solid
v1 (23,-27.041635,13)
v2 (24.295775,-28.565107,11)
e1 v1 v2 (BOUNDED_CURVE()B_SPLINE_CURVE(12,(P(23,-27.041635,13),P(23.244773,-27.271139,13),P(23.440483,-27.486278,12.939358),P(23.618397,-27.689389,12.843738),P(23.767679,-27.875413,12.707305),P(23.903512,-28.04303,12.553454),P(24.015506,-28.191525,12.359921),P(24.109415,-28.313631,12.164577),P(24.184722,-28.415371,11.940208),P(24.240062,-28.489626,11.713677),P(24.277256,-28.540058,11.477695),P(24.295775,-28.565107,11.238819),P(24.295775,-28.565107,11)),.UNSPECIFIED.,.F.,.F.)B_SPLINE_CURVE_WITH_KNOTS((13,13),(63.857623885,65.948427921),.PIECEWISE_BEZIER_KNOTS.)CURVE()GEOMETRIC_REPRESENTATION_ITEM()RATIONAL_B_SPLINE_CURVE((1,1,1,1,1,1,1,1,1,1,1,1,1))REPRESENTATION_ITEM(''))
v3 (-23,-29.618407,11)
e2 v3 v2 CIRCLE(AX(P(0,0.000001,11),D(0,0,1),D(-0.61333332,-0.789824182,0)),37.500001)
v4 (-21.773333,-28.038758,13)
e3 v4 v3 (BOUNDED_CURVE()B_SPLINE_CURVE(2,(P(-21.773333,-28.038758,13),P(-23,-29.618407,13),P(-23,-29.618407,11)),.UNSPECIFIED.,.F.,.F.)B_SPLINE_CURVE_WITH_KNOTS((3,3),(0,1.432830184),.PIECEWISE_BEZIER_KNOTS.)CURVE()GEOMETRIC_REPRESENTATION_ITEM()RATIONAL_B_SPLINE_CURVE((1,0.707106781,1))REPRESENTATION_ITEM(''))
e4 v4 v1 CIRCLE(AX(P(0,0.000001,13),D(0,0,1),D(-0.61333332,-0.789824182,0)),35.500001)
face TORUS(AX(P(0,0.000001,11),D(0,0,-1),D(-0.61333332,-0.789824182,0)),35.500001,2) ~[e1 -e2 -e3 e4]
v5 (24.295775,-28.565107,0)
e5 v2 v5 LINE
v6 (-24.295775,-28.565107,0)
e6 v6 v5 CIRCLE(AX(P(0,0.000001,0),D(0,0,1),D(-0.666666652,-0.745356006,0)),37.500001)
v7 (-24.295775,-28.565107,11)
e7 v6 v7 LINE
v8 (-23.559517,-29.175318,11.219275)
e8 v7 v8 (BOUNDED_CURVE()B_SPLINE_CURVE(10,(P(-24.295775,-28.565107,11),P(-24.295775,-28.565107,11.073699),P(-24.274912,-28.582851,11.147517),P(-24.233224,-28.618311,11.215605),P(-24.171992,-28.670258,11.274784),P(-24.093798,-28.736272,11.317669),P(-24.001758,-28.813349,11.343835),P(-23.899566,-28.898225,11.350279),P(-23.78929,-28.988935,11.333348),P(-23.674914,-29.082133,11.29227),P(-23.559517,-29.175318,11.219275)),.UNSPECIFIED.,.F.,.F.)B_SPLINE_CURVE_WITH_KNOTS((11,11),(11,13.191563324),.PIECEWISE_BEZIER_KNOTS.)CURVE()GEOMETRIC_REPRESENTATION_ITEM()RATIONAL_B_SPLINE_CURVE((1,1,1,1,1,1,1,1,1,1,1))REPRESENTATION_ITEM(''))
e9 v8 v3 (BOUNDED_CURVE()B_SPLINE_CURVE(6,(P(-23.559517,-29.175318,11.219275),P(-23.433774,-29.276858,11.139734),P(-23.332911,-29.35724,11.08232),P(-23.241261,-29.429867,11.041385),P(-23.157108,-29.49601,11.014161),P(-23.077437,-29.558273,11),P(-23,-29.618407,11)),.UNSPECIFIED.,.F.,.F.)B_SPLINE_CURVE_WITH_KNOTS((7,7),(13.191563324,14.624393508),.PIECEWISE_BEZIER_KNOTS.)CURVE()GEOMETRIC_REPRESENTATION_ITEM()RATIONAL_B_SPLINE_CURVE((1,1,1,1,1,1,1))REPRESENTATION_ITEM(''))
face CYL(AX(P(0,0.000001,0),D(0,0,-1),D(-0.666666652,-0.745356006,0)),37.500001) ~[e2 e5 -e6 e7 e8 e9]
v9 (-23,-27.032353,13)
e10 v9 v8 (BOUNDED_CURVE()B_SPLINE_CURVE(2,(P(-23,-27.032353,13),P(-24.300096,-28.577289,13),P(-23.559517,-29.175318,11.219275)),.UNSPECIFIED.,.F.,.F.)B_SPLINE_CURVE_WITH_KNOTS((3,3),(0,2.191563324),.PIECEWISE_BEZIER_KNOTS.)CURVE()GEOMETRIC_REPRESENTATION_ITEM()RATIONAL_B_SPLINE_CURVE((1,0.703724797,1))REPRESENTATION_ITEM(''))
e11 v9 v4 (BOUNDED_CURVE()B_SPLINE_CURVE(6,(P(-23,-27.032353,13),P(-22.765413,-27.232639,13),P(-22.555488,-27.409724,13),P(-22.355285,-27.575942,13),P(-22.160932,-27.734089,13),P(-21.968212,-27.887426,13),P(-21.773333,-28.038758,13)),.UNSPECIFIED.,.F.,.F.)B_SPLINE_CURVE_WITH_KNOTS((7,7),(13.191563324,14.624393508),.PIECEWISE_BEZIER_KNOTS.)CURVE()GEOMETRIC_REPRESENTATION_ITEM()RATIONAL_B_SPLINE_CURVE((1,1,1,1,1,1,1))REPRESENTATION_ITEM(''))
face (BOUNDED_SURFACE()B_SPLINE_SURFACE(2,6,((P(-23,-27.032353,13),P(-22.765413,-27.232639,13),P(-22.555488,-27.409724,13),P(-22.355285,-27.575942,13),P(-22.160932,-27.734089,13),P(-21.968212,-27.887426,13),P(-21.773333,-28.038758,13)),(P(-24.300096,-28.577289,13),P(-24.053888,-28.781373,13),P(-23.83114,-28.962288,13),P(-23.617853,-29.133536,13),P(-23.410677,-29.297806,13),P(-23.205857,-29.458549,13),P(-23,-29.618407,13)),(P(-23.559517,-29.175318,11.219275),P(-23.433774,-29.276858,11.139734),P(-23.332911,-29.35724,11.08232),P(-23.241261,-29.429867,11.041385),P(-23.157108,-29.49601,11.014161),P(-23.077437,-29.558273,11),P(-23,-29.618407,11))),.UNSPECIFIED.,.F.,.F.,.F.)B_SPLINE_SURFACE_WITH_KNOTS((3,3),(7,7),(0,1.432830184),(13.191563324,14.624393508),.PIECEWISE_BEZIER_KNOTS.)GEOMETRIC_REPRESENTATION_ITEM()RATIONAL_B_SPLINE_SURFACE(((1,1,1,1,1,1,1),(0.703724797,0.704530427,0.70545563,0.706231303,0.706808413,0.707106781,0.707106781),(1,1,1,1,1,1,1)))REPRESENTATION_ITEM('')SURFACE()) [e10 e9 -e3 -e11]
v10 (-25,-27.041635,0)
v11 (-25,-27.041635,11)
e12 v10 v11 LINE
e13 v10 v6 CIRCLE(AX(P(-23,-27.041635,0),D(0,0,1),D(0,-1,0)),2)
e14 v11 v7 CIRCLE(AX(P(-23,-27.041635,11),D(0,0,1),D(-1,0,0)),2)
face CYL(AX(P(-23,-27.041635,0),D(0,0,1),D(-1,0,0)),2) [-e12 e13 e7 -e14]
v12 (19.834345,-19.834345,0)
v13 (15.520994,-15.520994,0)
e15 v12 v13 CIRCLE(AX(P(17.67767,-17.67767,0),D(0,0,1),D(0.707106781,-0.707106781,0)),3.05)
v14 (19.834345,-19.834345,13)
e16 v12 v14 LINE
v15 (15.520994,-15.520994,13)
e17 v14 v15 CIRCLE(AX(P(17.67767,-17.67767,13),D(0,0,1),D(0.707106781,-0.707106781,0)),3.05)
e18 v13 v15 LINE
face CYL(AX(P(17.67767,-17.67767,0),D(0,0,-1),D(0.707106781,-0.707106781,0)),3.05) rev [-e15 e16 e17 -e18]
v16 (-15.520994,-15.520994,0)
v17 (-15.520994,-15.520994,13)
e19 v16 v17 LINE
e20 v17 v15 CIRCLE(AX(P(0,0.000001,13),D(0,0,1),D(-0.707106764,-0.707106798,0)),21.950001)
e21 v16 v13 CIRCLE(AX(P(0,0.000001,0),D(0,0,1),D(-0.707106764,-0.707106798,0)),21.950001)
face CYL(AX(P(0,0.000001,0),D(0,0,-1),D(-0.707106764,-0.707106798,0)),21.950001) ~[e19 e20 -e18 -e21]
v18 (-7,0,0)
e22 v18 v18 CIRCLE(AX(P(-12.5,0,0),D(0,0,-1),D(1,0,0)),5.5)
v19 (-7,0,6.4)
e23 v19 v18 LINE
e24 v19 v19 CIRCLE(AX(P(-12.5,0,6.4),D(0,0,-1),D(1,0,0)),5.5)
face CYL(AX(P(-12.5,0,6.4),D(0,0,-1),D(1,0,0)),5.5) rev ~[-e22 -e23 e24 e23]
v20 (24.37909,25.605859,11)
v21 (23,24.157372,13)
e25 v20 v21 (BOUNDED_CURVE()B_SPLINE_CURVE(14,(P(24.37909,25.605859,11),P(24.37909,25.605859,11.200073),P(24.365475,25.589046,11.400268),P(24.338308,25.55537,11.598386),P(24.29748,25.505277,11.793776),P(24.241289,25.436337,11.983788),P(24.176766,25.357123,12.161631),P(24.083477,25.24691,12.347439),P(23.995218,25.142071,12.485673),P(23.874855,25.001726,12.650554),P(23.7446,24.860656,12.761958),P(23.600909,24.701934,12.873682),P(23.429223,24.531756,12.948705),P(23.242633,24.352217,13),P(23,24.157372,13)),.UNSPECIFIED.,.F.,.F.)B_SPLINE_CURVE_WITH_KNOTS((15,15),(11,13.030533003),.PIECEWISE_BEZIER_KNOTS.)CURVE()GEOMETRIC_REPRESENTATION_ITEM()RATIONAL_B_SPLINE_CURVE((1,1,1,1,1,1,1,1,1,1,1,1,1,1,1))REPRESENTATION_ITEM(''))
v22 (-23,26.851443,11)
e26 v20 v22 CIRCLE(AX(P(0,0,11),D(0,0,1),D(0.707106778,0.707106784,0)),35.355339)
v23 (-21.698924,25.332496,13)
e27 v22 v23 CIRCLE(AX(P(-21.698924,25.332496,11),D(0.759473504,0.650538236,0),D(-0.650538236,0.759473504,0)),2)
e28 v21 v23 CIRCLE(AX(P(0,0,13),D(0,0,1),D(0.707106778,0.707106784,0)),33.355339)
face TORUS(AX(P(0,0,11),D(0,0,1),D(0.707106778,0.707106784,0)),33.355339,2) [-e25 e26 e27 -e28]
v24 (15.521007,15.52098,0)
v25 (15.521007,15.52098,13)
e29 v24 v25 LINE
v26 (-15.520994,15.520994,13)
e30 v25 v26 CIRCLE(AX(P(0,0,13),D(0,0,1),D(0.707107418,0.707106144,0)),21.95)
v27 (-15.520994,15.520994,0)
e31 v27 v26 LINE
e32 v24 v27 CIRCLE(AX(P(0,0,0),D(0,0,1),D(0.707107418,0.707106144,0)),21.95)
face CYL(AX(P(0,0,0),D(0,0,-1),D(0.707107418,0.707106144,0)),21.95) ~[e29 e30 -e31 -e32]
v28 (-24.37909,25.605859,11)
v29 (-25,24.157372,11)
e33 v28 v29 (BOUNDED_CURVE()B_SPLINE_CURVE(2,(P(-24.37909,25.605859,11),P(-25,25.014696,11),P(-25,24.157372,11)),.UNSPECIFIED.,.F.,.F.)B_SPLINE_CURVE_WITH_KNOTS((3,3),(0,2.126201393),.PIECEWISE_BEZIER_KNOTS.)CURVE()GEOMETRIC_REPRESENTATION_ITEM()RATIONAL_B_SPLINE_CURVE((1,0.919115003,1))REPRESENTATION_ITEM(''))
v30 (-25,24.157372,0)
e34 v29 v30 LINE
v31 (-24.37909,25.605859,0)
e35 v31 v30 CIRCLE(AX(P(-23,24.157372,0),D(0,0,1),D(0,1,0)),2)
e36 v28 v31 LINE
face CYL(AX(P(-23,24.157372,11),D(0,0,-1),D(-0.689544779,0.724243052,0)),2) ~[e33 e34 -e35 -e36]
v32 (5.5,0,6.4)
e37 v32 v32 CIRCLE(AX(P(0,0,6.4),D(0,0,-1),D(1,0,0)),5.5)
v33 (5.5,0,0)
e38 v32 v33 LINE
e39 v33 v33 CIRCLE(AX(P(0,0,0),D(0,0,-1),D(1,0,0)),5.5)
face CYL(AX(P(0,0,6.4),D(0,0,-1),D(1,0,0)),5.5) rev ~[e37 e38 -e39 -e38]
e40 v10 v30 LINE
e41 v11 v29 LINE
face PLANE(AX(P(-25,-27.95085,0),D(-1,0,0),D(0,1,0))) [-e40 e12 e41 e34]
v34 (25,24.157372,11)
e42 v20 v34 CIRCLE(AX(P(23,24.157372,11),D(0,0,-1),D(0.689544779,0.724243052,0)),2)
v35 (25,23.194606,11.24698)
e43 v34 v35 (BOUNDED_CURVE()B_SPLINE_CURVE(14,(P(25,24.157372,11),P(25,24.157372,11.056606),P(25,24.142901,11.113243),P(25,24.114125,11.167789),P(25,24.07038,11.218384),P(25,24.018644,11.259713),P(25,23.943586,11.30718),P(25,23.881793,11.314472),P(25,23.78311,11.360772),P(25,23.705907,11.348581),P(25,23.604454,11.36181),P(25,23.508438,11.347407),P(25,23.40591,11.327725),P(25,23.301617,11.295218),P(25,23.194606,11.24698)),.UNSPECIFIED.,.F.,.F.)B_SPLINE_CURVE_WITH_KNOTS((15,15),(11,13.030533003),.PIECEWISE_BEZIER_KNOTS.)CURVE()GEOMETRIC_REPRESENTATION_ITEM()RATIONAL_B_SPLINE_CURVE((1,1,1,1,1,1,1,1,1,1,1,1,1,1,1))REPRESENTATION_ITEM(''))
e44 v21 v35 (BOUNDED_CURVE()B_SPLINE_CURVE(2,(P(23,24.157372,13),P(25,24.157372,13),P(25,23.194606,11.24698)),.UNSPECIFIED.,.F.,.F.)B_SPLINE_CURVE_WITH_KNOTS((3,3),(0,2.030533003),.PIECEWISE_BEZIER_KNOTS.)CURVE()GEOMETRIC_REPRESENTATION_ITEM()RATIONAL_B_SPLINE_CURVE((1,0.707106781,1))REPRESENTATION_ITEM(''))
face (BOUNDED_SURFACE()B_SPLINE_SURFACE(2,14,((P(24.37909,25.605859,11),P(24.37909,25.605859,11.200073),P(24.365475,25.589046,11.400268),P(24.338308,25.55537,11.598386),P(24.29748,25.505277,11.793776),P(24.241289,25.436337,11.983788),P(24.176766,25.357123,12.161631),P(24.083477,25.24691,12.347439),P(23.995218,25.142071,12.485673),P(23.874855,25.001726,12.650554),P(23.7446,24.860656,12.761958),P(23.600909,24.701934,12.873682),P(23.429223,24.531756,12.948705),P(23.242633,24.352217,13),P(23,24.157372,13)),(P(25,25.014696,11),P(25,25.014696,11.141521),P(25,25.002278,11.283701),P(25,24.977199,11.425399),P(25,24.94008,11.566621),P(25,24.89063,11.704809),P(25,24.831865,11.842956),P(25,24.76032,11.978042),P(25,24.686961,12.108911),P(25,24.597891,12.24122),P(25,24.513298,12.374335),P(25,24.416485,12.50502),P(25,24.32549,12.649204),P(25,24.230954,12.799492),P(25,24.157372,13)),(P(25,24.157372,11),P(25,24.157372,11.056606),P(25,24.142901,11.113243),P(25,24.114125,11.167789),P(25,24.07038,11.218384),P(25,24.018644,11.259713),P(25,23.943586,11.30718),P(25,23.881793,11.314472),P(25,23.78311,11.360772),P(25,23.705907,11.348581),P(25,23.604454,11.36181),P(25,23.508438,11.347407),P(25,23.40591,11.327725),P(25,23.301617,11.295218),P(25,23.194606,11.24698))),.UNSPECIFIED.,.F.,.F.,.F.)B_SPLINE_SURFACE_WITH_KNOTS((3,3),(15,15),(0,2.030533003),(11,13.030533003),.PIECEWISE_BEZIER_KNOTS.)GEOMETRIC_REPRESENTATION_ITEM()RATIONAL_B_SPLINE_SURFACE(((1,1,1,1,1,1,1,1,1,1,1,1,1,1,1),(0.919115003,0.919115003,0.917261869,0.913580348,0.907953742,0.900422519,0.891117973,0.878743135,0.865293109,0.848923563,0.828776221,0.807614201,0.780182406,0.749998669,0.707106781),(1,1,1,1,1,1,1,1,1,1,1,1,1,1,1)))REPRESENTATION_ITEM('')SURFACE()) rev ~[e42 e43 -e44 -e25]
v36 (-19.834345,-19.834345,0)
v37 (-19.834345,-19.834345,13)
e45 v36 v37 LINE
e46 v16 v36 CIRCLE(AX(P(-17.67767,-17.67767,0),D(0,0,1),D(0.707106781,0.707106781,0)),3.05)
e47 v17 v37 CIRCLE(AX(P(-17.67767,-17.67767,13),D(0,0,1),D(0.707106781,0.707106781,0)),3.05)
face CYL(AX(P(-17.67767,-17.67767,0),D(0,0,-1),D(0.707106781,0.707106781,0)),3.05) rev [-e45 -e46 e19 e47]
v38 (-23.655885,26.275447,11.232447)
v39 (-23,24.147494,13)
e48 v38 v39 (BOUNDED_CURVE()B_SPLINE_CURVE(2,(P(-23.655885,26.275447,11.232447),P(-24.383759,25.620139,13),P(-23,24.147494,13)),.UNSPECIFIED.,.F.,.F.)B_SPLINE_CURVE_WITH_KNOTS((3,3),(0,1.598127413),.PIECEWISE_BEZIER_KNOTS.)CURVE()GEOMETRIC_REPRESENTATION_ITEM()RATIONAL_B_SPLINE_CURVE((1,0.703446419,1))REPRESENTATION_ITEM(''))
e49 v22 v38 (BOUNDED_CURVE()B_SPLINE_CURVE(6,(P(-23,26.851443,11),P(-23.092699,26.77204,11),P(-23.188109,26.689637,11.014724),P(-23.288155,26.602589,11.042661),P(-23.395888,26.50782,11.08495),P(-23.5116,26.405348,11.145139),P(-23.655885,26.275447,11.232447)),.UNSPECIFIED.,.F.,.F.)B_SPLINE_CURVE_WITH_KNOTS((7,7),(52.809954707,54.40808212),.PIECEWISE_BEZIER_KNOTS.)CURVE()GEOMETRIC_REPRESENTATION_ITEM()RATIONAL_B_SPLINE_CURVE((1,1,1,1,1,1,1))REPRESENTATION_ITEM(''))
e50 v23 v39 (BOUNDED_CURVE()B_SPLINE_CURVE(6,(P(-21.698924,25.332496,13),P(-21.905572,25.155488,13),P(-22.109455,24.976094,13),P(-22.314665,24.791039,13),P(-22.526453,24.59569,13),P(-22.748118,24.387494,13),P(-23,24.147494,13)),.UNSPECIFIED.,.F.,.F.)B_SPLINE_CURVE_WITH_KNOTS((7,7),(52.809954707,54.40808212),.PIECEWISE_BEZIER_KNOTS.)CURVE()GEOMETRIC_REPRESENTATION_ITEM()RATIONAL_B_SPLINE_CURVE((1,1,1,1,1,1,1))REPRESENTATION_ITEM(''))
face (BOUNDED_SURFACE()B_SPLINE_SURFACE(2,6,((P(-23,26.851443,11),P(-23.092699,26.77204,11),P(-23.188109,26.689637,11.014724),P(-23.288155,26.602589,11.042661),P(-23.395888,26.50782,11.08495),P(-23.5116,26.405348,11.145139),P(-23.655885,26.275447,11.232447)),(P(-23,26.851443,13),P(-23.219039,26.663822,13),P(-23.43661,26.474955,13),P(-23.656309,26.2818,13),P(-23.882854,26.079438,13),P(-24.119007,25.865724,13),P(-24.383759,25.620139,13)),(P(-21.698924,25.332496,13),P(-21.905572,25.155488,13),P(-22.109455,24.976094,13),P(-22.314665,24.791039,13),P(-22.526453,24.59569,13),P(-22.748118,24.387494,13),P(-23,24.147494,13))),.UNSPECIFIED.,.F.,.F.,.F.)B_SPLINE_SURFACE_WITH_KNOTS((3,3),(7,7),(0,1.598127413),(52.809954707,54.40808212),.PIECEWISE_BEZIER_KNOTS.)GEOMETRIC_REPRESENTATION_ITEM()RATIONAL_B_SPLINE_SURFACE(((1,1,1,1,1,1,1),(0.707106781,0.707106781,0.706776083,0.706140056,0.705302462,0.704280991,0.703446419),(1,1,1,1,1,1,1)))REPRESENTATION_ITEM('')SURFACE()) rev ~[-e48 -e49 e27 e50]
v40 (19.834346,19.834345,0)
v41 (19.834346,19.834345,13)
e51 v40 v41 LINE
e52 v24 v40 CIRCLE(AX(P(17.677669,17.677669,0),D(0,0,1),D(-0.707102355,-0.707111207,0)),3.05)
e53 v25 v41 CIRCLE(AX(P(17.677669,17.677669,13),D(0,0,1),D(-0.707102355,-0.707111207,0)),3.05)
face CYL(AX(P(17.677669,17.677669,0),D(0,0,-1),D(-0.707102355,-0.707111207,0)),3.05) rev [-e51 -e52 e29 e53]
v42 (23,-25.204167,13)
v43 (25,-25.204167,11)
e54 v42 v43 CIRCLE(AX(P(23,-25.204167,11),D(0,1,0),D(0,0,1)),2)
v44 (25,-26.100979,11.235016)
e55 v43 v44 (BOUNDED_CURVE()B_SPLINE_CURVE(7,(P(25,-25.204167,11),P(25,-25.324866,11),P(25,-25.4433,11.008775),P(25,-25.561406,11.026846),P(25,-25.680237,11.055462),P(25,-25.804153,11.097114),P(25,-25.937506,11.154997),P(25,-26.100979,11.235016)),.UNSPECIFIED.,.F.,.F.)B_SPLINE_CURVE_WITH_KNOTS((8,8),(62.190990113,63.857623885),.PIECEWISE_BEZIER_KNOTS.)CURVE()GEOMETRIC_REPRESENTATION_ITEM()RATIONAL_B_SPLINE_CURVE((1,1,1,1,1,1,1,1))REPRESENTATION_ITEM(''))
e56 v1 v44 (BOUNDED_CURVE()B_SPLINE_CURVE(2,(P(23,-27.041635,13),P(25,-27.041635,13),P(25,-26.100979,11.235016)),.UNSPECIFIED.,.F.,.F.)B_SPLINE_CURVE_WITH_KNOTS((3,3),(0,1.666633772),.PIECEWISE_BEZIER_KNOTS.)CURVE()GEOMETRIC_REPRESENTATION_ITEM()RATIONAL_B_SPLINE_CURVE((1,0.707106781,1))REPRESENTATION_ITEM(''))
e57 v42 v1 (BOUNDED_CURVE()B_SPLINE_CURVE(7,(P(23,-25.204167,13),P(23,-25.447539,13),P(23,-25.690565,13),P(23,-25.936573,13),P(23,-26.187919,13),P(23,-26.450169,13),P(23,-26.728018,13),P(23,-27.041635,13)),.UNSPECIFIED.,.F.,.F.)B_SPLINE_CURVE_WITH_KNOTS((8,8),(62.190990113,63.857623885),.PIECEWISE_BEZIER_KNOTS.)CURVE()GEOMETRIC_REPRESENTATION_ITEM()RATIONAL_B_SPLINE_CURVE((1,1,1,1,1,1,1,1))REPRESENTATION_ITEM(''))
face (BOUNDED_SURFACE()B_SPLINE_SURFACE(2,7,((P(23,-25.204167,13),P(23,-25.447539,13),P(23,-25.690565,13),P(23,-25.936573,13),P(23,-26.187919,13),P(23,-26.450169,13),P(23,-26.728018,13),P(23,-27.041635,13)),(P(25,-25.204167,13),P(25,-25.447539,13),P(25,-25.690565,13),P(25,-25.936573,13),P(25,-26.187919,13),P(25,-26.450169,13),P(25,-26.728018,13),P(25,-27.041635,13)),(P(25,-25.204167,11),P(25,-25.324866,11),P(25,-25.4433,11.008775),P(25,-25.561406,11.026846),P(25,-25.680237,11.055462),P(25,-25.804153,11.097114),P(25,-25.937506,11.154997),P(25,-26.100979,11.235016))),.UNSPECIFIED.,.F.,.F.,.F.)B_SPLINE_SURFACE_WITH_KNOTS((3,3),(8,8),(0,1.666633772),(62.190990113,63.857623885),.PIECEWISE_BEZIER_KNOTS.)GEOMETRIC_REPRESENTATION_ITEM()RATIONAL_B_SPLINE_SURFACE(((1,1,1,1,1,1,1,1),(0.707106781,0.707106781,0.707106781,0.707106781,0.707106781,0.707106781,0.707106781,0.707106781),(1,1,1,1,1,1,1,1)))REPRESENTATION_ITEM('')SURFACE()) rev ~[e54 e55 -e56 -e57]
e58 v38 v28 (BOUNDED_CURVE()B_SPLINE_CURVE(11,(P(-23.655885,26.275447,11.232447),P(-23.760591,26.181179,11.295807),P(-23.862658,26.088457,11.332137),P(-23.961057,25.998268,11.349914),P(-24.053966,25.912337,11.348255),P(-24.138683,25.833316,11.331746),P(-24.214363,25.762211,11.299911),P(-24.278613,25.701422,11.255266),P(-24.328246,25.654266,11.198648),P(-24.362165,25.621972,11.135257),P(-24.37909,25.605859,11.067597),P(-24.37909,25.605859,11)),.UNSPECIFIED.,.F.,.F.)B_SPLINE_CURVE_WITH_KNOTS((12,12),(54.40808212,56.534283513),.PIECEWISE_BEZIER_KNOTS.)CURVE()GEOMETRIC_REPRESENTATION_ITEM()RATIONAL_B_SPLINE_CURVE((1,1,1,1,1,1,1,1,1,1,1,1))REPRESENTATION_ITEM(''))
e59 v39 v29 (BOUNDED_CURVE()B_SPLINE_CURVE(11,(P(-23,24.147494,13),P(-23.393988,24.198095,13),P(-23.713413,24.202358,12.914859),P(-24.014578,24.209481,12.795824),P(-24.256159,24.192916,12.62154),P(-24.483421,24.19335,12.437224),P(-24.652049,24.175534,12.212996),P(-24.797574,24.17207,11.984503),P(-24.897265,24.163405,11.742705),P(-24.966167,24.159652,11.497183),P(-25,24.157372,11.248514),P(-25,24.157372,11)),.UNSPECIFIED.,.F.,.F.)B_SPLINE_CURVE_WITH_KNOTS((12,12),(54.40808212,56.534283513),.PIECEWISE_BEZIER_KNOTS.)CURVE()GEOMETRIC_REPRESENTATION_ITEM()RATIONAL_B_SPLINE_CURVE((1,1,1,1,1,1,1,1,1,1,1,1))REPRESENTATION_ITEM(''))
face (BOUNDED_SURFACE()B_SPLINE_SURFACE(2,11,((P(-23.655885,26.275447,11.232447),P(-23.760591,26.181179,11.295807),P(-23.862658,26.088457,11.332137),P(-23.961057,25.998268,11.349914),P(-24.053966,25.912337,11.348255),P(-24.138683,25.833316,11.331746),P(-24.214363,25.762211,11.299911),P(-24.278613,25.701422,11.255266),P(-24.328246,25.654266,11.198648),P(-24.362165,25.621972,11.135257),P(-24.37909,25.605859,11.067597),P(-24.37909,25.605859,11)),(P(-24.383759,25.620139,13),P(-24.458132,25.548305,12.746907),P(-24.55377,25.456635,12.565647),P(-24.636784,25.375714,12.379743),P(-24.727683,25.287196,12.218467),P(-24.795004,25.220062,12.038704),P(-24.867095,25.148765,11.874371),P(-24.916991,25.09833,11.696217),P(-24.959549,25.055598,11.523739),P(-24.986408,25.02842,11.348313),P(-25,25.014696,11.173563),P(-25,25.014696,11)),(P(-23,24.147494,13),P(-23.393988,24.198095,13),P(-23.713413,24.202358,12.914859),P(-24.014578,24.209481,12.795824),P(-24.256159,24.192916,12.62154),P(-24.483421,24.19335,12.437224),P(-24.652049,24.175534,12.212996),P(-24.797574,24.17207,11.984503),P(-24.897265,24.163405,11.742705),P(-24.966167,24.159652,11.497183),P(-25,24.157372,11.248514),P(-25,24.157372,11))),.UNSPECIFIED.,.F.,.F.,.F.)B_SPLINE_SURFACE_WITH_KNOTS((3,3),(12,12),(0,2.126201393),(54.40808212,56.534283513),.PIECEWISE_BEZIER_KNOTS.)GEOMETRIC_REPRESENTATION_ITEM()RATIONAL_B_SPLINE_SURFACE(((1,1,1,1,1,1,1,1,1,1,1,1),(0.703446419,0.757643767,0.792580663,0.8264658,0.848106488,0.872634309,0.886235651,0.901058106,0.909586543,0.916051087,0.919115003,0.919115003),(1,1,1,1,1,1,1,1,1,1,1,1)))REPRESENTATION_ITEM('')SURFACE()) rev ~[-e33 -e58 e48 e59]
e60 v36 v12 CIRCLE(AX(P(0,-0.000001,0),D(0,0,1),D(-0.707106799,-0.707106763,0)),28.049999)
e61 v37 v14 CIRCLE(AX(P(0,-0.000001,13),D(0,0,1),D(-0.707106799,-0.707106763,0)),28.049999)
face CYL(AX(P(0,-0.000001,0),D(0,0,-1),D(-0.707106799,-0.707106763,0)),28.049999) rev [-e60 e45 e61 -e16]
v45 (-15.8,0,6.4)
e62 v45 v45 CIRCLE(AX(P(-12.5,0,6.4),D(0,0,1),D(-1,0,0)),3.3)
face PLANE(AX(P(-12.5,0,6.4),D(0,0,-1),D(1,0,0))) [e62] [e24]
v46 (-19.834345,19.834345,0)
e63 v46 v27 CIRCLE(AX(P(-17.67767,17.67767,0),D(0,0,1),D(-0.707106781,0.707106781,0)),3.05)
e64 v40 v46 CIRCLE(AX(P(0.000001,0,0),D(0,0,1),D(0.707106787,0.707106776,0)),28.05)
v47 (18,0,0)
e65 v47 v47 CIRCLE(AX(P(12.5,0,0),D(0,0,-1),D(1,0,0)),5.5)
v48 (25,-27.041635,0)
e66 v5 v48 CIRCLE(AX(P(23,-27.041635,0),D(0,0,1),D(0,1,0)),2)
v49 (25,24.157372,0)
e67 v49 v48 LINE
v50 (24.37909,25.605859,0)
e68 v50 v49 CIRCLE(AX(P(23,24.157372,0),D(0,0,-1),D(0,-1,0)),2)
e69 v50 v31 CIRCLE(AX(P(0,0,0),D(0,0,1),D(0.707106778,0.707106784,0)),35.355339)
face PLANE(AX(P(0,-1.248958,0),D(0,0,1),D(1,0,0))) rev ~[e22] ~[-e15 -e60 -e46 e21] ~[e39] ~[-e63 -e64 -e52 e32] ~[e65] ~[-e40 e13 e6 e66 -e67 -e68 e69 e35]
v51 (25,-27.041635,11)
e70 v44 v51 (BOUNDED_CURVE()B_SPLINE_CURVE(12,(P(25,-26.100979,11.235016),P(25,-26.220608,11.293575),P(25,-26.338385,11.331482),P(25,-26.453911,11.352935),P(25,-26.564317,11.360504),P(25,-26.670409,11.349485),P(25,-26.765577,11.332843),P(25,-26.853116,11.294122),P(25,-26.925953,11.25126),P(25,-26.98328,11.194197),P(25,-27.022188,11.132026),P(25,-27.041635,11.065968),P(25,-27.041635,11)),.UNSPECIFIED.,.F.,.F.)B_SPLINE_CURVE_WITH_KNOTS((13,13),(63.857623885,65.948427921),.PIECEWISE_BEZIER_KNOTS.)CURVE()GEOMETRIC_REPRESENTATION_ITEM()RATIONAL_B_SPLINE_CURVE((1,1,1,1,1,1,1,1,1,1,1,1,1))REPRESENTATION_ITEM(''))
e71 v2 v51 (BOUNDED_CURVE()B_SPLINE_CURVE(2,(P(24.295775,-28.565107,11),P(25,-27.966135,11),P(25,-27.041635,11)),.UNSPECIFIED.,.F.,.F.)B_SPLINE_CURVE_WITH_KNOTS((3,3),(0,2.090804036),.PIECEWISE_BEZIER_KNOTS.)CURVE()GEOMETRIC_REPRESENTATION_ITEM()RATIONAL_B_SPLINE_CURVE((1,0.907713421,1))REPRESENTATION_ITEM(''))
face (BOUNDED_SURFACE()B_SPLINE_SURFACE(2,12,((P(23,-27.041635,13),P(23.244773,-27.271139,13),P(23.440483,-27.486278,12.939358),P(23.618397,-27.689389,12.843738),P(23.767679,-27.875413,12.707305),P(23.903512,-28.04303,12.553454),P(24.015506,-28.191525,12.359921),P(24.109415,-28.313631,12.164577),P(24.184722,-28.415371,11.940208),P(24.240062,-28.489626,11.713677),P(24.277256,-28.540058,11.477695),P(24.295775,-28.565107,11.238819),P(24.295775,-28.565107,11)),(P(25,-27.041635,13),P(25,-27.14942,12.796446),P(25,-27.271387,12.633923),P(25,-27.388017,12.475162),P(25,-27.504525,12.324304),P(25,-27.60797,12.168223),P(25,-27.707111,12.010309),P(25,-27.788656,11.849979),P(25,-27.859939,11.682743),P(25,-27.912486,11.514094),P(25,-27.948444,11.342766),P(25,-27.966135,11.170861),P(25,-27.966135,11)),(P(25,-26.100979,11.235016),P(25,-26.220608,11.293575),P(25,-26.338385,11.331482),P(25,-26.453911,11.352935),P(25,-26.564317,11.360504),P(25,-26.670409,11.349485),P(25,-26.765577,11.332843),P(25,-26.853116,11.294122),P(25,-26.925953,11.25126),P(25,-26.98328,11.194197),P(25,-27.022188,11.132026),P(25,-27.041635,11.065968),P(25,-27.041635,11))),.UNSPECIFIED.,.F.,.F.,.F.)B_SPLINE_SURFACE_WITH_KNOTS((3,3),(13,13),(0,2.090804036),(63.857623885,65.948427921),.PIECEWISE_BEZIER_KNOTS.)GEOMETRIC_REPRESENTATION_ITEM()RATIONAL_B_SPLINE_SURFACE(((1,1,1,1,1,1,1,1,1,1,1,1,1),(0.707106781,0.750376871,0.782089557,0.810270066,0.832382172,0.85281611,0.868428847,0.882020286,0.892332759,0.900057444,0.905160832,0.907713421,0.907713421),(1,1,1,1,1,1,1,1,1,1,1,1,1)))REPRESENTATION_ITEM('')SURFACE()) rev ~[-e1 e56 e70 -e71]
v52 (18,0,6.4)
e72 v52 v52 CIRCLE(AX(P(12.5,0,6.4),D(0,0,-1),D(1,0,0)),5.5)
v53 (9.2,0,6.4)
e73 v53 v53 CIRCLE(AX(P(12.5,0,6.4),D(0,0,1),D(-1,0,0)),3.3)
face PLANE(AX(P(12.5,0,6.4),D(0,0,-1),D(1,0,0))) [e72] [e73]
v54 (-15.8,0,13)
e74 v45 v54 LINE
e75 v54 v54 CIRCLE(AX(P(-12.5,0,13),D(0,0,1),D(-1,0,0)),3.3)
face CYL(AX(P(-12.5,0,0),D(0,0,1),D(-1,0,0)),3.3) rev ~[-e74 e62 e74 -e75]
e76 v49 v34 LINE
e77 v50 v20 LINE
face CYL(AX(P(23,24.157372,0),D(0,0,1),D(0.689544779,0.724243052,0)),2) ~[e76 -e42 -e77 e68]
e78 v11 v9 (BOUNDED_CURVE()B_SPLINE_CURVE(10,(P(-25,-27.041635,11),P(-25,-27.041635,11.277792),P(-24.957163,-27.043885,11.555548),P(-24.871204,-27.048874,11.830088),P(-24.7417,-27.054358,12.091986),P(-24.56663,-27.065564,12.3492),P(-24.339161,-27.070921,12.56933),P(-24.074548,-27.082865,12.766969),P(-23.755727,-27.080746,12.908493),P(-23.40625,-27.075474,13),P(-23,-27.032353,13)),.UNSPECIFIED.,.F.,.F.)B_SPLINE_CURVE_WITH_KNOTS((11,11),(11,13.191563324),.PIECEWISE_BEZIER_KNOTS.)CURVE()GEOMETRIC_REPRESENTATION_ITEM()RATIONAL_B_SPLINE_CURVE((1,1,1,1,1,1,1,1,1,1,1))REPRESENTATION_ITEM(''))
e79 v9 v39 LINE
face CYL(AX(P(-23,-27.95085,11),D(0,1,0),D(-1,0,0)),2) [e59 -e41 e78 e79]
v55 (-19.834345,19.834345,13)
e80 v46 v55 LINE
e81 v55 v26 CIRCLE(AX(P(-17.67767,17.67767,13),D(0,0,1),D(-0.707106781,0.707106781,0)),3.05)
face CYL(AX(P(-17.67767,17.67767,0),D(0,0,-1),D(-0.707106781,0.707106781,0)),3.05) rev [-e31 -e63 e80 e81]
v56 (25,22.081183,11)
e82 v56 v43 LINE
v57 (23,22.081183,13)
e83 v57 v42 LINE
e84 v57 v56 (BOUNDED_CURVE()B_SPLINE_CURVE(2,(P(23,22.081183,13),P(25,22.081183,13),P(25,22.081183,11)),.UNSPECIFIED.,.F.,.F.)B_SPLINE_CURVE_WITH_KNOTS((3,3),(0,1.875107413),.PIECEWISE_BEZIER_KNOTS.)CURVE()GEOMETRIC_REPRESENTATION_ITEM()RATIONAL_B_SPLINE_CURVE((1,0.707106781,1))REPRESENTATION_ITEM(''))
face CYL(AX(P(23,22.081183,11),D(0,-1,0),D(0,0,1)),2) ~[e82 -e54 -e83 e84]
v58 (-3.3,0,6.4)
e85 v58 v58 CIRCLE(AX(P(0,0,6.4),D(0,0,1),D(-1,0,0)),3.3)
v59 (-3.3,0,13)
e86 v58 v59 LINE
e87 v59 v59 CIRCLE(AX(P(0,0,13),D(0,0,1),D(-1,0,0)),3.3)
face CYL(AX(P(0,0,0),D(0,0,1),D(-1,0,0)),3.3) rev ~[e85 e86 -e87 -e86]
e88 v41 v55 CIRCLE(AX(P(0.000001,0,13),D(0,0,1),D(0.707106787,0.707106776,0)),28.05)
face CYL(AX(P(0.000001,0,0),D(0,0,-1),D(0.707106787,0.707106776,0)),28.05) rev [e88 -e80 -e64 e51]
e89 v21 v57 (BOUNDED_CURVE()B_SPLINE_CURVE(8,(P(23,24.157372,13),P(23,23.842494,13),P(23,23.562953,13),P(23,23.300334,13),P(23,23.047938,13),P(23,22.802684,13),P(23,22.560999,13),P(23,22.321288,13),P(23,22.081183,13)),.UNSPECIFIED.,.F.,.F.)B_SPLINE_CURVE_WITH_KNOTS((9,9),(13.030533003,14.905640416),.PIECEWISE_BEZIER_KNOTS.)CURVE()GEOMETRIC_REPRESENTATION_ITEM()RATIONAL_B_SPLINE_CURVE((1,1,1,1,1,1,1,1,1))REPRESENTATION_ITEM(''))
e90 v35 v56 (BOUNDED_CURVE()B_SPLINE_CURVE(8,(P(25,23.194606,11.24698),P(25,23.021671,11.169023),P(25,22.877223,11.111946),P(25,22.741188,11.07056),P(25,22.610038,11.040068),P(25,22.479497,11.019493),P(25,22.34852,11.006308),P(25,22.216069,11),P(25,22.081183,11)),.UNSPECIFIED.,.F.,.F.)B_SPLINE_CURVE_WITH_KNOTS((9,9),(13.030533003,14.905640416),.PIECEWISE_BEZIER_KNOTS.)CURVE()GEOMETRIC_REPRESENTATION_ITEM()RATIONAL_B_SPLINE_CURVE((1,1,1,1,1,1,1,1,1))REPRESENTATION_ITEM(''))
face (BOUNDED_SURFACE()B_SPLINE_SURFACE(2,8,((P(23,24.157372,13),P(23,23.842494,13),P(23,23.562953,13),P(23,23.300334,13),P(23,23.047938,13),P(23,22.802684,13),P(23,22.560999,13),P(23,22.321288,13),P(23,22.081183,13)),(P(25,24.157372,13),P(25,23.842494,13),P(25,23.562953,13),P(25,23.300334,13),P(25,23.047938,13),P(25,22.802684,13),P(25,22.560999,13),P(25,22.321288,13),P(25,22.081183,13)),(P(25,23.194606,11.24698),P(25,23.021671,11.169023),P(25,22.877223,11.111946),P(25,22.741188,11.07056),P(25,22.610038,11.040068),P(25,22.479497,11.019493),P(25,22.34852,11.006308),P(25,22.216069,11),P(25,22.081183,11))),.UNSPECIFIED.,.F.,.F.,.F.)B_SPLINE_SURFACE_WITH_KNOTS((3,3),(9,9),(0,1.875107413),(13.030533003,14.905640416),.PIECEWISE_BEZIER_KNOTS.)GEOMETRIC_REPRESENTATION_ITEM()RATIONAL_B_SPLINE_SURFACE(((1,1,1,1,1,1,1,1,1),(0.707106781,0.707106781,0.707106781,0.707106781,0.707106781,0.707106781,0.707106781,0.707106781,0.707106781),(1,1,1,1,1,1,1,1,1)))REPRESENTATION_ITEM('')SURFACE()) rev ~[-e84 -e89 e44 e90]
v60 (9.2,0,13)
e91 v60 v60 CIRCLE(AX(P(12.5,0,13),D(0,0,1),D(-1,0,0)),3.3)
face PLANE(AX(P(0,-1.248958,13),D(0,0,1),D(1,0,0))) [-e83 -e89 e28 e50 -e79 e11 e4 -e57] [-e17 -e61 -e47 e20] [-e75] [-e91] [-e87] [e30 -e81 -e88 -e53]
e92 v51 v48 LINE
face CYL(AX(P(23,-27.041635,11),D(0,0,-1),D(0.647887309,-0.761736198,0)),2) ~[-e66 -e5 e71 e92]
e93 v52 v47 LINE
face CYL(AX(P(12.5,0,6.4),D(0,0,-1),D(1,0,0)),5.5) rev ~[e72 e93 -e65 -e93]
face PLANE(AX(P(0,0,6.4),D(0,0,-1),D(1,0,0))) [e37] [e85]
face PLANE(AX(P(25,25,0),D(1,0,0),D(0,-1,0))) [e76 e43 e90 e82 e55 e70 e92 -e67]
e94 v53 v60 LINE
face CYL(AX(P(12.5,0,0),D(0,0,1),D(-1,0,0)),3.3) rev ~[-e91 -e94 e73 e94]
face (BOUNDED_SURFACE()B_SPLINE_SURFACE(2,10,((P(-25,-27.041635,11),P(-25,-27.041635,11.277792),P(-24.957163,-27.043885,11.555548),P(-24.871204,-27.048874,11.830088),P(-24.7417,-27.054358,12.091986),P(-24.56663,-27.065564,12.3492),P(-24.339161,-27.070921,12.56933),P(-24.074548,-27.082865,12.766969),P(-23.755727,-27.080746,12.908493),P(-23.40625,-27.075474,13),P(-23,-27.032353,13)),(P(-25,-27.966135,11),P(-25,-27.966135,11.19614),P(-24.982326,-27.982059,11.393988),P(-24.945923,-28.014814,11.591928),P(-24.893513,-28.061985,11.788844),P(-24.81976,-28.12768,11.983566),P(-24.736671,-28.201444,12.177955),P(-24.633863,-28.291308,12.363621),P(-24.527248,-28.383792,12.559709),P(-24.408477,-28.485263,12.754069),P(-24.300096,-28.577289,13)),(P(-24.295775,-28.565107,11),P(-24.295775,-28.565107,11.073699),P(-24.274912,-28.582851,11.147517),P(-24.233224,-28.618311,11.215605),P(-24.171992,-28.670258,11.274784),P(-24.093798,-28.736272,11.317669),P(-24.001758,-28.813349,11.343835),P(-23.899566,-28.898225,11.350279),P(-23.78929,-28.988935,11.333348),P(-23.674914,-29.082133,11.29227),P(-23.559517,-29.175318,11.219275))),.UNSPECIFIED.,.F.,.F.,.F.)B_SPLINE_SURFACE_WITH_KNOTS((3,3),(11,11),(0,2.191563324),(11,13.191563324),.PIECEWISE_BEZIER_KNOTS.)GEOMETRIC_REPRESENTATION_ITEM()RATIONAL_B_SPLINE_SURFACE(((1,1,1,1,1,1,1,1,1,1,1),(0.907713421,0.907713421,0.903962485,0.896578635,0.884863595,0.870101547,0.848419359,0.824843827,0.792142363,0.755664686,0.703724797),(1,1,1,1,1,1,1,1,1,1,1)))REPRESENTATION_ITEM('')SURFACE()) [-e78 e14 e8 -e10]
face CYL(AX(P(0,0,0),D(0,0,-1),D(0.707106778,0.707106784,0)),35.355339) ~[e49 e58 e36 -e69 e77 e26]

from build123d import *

# Parameters (mm, degrees)
PAD_DEPTH        = 13
HOLE_D           = 6.6
HOLE_DEPTH       = 25
HOLE_CBORE_D     = 11
HOLE_CBORE_DEPTH = 6.4
FILLET_R         = 2
FILLET001_R      = 2
FILLET002_R      = 2
FILLET003_R      = 2


with BuildPart() as part:
    # Sketch → Pad (new body)
    with BuildSketch(Plane.XY):
        with BuildLine():
            ThreePointArc((25, 25), (0, 35.355339), (-25, 25))
            Line((-25, -27.95085), (-25, 25))
            ThreePointArc((-25, -27.95085), (0, -37.5), (25, -27.95085))
            Line((25, 25), (25, -27.95085))
        make_face()
        with BuildLine():
            ThreePointArc((-19.834345, -19.834345), (0, -28.05), (19.834345, -19.834345))
            ThreePointArc((19.834345, -19.834345), (19.834345, -15.520994), (15.520994, -15.520994))
            ThreePointArc((-15.520994, -15.520994), (0, -21.95), (15.520994, -15.520994))
            ThreePointArc((-15.520994, -15.520994), (-19.834345, -15.520994), (-19.834345, -19.834345))
        make_face(mode=Mode.SUBTRACT)
        with BuildLine():
            ThreePointArc((-19.834345, 19.834345), (-19.834345, 15.520994), (-15.520994, 15.520994))
            ThreePointArc((15.521007, 15.52098), (1e-05, 21.95), (-15.520994, 15.520994))
            ThreePointArc((15.521007, 15.52098), (19.834352, 15.521), (19.834346, 19.834345))
            ThreePointArc((19.834346, 19.834345), (0, 28.05), (-19.834345, 19.834345))
        make_face(mode=Mode.SUBTRACT)
    extrude(amount=PAD_DEPTH)

    # Hole
    with Locations(Plane(origin=(0, 0, 0), x_dir=(1, 0, 0), z_dir=(0, 0, -1))):
        with Locations((0, 0), (-12.5, 0), (12.5, 0)):
            CounterBoreHole(HOLE_D / 2, HOLE_CBORE_D / 2, HOLE_CBORE_DEPTH, depth=HOLE_DEPTH)

    # Fillet
    fillet_edges = [part.edges().sort_by_distance(p)[0] for p in [
        (-25, -1.475425, 13),
    ]]
    fillet(fillet_edges, radius=FILLET_R)

    # Fillet001
    fillet001_edges = [part.edges().sort_by_distance(p)[0] for p in [
        (1.301993, -37.477391, 13),
    ]]
    fillet(fillet001_edges, radius=FILLET001_R)

    # Fillet002
    fillet002_edges = [part.edges().sort_by_distance(p)[0] for p in [
        (1.362703, 35.329068, 13),
    ]]
    fillet(fillet002_edges, radius=FILLET002_R)

    # Fillet003
    fillet003_edges = [part.edges().sort_by_distance(p)[0] for p in [
        (25, -1.561492, 13),
    ]]
    fillet(fillet003_edges, radius=FILLET003_R)


solid = part.part
